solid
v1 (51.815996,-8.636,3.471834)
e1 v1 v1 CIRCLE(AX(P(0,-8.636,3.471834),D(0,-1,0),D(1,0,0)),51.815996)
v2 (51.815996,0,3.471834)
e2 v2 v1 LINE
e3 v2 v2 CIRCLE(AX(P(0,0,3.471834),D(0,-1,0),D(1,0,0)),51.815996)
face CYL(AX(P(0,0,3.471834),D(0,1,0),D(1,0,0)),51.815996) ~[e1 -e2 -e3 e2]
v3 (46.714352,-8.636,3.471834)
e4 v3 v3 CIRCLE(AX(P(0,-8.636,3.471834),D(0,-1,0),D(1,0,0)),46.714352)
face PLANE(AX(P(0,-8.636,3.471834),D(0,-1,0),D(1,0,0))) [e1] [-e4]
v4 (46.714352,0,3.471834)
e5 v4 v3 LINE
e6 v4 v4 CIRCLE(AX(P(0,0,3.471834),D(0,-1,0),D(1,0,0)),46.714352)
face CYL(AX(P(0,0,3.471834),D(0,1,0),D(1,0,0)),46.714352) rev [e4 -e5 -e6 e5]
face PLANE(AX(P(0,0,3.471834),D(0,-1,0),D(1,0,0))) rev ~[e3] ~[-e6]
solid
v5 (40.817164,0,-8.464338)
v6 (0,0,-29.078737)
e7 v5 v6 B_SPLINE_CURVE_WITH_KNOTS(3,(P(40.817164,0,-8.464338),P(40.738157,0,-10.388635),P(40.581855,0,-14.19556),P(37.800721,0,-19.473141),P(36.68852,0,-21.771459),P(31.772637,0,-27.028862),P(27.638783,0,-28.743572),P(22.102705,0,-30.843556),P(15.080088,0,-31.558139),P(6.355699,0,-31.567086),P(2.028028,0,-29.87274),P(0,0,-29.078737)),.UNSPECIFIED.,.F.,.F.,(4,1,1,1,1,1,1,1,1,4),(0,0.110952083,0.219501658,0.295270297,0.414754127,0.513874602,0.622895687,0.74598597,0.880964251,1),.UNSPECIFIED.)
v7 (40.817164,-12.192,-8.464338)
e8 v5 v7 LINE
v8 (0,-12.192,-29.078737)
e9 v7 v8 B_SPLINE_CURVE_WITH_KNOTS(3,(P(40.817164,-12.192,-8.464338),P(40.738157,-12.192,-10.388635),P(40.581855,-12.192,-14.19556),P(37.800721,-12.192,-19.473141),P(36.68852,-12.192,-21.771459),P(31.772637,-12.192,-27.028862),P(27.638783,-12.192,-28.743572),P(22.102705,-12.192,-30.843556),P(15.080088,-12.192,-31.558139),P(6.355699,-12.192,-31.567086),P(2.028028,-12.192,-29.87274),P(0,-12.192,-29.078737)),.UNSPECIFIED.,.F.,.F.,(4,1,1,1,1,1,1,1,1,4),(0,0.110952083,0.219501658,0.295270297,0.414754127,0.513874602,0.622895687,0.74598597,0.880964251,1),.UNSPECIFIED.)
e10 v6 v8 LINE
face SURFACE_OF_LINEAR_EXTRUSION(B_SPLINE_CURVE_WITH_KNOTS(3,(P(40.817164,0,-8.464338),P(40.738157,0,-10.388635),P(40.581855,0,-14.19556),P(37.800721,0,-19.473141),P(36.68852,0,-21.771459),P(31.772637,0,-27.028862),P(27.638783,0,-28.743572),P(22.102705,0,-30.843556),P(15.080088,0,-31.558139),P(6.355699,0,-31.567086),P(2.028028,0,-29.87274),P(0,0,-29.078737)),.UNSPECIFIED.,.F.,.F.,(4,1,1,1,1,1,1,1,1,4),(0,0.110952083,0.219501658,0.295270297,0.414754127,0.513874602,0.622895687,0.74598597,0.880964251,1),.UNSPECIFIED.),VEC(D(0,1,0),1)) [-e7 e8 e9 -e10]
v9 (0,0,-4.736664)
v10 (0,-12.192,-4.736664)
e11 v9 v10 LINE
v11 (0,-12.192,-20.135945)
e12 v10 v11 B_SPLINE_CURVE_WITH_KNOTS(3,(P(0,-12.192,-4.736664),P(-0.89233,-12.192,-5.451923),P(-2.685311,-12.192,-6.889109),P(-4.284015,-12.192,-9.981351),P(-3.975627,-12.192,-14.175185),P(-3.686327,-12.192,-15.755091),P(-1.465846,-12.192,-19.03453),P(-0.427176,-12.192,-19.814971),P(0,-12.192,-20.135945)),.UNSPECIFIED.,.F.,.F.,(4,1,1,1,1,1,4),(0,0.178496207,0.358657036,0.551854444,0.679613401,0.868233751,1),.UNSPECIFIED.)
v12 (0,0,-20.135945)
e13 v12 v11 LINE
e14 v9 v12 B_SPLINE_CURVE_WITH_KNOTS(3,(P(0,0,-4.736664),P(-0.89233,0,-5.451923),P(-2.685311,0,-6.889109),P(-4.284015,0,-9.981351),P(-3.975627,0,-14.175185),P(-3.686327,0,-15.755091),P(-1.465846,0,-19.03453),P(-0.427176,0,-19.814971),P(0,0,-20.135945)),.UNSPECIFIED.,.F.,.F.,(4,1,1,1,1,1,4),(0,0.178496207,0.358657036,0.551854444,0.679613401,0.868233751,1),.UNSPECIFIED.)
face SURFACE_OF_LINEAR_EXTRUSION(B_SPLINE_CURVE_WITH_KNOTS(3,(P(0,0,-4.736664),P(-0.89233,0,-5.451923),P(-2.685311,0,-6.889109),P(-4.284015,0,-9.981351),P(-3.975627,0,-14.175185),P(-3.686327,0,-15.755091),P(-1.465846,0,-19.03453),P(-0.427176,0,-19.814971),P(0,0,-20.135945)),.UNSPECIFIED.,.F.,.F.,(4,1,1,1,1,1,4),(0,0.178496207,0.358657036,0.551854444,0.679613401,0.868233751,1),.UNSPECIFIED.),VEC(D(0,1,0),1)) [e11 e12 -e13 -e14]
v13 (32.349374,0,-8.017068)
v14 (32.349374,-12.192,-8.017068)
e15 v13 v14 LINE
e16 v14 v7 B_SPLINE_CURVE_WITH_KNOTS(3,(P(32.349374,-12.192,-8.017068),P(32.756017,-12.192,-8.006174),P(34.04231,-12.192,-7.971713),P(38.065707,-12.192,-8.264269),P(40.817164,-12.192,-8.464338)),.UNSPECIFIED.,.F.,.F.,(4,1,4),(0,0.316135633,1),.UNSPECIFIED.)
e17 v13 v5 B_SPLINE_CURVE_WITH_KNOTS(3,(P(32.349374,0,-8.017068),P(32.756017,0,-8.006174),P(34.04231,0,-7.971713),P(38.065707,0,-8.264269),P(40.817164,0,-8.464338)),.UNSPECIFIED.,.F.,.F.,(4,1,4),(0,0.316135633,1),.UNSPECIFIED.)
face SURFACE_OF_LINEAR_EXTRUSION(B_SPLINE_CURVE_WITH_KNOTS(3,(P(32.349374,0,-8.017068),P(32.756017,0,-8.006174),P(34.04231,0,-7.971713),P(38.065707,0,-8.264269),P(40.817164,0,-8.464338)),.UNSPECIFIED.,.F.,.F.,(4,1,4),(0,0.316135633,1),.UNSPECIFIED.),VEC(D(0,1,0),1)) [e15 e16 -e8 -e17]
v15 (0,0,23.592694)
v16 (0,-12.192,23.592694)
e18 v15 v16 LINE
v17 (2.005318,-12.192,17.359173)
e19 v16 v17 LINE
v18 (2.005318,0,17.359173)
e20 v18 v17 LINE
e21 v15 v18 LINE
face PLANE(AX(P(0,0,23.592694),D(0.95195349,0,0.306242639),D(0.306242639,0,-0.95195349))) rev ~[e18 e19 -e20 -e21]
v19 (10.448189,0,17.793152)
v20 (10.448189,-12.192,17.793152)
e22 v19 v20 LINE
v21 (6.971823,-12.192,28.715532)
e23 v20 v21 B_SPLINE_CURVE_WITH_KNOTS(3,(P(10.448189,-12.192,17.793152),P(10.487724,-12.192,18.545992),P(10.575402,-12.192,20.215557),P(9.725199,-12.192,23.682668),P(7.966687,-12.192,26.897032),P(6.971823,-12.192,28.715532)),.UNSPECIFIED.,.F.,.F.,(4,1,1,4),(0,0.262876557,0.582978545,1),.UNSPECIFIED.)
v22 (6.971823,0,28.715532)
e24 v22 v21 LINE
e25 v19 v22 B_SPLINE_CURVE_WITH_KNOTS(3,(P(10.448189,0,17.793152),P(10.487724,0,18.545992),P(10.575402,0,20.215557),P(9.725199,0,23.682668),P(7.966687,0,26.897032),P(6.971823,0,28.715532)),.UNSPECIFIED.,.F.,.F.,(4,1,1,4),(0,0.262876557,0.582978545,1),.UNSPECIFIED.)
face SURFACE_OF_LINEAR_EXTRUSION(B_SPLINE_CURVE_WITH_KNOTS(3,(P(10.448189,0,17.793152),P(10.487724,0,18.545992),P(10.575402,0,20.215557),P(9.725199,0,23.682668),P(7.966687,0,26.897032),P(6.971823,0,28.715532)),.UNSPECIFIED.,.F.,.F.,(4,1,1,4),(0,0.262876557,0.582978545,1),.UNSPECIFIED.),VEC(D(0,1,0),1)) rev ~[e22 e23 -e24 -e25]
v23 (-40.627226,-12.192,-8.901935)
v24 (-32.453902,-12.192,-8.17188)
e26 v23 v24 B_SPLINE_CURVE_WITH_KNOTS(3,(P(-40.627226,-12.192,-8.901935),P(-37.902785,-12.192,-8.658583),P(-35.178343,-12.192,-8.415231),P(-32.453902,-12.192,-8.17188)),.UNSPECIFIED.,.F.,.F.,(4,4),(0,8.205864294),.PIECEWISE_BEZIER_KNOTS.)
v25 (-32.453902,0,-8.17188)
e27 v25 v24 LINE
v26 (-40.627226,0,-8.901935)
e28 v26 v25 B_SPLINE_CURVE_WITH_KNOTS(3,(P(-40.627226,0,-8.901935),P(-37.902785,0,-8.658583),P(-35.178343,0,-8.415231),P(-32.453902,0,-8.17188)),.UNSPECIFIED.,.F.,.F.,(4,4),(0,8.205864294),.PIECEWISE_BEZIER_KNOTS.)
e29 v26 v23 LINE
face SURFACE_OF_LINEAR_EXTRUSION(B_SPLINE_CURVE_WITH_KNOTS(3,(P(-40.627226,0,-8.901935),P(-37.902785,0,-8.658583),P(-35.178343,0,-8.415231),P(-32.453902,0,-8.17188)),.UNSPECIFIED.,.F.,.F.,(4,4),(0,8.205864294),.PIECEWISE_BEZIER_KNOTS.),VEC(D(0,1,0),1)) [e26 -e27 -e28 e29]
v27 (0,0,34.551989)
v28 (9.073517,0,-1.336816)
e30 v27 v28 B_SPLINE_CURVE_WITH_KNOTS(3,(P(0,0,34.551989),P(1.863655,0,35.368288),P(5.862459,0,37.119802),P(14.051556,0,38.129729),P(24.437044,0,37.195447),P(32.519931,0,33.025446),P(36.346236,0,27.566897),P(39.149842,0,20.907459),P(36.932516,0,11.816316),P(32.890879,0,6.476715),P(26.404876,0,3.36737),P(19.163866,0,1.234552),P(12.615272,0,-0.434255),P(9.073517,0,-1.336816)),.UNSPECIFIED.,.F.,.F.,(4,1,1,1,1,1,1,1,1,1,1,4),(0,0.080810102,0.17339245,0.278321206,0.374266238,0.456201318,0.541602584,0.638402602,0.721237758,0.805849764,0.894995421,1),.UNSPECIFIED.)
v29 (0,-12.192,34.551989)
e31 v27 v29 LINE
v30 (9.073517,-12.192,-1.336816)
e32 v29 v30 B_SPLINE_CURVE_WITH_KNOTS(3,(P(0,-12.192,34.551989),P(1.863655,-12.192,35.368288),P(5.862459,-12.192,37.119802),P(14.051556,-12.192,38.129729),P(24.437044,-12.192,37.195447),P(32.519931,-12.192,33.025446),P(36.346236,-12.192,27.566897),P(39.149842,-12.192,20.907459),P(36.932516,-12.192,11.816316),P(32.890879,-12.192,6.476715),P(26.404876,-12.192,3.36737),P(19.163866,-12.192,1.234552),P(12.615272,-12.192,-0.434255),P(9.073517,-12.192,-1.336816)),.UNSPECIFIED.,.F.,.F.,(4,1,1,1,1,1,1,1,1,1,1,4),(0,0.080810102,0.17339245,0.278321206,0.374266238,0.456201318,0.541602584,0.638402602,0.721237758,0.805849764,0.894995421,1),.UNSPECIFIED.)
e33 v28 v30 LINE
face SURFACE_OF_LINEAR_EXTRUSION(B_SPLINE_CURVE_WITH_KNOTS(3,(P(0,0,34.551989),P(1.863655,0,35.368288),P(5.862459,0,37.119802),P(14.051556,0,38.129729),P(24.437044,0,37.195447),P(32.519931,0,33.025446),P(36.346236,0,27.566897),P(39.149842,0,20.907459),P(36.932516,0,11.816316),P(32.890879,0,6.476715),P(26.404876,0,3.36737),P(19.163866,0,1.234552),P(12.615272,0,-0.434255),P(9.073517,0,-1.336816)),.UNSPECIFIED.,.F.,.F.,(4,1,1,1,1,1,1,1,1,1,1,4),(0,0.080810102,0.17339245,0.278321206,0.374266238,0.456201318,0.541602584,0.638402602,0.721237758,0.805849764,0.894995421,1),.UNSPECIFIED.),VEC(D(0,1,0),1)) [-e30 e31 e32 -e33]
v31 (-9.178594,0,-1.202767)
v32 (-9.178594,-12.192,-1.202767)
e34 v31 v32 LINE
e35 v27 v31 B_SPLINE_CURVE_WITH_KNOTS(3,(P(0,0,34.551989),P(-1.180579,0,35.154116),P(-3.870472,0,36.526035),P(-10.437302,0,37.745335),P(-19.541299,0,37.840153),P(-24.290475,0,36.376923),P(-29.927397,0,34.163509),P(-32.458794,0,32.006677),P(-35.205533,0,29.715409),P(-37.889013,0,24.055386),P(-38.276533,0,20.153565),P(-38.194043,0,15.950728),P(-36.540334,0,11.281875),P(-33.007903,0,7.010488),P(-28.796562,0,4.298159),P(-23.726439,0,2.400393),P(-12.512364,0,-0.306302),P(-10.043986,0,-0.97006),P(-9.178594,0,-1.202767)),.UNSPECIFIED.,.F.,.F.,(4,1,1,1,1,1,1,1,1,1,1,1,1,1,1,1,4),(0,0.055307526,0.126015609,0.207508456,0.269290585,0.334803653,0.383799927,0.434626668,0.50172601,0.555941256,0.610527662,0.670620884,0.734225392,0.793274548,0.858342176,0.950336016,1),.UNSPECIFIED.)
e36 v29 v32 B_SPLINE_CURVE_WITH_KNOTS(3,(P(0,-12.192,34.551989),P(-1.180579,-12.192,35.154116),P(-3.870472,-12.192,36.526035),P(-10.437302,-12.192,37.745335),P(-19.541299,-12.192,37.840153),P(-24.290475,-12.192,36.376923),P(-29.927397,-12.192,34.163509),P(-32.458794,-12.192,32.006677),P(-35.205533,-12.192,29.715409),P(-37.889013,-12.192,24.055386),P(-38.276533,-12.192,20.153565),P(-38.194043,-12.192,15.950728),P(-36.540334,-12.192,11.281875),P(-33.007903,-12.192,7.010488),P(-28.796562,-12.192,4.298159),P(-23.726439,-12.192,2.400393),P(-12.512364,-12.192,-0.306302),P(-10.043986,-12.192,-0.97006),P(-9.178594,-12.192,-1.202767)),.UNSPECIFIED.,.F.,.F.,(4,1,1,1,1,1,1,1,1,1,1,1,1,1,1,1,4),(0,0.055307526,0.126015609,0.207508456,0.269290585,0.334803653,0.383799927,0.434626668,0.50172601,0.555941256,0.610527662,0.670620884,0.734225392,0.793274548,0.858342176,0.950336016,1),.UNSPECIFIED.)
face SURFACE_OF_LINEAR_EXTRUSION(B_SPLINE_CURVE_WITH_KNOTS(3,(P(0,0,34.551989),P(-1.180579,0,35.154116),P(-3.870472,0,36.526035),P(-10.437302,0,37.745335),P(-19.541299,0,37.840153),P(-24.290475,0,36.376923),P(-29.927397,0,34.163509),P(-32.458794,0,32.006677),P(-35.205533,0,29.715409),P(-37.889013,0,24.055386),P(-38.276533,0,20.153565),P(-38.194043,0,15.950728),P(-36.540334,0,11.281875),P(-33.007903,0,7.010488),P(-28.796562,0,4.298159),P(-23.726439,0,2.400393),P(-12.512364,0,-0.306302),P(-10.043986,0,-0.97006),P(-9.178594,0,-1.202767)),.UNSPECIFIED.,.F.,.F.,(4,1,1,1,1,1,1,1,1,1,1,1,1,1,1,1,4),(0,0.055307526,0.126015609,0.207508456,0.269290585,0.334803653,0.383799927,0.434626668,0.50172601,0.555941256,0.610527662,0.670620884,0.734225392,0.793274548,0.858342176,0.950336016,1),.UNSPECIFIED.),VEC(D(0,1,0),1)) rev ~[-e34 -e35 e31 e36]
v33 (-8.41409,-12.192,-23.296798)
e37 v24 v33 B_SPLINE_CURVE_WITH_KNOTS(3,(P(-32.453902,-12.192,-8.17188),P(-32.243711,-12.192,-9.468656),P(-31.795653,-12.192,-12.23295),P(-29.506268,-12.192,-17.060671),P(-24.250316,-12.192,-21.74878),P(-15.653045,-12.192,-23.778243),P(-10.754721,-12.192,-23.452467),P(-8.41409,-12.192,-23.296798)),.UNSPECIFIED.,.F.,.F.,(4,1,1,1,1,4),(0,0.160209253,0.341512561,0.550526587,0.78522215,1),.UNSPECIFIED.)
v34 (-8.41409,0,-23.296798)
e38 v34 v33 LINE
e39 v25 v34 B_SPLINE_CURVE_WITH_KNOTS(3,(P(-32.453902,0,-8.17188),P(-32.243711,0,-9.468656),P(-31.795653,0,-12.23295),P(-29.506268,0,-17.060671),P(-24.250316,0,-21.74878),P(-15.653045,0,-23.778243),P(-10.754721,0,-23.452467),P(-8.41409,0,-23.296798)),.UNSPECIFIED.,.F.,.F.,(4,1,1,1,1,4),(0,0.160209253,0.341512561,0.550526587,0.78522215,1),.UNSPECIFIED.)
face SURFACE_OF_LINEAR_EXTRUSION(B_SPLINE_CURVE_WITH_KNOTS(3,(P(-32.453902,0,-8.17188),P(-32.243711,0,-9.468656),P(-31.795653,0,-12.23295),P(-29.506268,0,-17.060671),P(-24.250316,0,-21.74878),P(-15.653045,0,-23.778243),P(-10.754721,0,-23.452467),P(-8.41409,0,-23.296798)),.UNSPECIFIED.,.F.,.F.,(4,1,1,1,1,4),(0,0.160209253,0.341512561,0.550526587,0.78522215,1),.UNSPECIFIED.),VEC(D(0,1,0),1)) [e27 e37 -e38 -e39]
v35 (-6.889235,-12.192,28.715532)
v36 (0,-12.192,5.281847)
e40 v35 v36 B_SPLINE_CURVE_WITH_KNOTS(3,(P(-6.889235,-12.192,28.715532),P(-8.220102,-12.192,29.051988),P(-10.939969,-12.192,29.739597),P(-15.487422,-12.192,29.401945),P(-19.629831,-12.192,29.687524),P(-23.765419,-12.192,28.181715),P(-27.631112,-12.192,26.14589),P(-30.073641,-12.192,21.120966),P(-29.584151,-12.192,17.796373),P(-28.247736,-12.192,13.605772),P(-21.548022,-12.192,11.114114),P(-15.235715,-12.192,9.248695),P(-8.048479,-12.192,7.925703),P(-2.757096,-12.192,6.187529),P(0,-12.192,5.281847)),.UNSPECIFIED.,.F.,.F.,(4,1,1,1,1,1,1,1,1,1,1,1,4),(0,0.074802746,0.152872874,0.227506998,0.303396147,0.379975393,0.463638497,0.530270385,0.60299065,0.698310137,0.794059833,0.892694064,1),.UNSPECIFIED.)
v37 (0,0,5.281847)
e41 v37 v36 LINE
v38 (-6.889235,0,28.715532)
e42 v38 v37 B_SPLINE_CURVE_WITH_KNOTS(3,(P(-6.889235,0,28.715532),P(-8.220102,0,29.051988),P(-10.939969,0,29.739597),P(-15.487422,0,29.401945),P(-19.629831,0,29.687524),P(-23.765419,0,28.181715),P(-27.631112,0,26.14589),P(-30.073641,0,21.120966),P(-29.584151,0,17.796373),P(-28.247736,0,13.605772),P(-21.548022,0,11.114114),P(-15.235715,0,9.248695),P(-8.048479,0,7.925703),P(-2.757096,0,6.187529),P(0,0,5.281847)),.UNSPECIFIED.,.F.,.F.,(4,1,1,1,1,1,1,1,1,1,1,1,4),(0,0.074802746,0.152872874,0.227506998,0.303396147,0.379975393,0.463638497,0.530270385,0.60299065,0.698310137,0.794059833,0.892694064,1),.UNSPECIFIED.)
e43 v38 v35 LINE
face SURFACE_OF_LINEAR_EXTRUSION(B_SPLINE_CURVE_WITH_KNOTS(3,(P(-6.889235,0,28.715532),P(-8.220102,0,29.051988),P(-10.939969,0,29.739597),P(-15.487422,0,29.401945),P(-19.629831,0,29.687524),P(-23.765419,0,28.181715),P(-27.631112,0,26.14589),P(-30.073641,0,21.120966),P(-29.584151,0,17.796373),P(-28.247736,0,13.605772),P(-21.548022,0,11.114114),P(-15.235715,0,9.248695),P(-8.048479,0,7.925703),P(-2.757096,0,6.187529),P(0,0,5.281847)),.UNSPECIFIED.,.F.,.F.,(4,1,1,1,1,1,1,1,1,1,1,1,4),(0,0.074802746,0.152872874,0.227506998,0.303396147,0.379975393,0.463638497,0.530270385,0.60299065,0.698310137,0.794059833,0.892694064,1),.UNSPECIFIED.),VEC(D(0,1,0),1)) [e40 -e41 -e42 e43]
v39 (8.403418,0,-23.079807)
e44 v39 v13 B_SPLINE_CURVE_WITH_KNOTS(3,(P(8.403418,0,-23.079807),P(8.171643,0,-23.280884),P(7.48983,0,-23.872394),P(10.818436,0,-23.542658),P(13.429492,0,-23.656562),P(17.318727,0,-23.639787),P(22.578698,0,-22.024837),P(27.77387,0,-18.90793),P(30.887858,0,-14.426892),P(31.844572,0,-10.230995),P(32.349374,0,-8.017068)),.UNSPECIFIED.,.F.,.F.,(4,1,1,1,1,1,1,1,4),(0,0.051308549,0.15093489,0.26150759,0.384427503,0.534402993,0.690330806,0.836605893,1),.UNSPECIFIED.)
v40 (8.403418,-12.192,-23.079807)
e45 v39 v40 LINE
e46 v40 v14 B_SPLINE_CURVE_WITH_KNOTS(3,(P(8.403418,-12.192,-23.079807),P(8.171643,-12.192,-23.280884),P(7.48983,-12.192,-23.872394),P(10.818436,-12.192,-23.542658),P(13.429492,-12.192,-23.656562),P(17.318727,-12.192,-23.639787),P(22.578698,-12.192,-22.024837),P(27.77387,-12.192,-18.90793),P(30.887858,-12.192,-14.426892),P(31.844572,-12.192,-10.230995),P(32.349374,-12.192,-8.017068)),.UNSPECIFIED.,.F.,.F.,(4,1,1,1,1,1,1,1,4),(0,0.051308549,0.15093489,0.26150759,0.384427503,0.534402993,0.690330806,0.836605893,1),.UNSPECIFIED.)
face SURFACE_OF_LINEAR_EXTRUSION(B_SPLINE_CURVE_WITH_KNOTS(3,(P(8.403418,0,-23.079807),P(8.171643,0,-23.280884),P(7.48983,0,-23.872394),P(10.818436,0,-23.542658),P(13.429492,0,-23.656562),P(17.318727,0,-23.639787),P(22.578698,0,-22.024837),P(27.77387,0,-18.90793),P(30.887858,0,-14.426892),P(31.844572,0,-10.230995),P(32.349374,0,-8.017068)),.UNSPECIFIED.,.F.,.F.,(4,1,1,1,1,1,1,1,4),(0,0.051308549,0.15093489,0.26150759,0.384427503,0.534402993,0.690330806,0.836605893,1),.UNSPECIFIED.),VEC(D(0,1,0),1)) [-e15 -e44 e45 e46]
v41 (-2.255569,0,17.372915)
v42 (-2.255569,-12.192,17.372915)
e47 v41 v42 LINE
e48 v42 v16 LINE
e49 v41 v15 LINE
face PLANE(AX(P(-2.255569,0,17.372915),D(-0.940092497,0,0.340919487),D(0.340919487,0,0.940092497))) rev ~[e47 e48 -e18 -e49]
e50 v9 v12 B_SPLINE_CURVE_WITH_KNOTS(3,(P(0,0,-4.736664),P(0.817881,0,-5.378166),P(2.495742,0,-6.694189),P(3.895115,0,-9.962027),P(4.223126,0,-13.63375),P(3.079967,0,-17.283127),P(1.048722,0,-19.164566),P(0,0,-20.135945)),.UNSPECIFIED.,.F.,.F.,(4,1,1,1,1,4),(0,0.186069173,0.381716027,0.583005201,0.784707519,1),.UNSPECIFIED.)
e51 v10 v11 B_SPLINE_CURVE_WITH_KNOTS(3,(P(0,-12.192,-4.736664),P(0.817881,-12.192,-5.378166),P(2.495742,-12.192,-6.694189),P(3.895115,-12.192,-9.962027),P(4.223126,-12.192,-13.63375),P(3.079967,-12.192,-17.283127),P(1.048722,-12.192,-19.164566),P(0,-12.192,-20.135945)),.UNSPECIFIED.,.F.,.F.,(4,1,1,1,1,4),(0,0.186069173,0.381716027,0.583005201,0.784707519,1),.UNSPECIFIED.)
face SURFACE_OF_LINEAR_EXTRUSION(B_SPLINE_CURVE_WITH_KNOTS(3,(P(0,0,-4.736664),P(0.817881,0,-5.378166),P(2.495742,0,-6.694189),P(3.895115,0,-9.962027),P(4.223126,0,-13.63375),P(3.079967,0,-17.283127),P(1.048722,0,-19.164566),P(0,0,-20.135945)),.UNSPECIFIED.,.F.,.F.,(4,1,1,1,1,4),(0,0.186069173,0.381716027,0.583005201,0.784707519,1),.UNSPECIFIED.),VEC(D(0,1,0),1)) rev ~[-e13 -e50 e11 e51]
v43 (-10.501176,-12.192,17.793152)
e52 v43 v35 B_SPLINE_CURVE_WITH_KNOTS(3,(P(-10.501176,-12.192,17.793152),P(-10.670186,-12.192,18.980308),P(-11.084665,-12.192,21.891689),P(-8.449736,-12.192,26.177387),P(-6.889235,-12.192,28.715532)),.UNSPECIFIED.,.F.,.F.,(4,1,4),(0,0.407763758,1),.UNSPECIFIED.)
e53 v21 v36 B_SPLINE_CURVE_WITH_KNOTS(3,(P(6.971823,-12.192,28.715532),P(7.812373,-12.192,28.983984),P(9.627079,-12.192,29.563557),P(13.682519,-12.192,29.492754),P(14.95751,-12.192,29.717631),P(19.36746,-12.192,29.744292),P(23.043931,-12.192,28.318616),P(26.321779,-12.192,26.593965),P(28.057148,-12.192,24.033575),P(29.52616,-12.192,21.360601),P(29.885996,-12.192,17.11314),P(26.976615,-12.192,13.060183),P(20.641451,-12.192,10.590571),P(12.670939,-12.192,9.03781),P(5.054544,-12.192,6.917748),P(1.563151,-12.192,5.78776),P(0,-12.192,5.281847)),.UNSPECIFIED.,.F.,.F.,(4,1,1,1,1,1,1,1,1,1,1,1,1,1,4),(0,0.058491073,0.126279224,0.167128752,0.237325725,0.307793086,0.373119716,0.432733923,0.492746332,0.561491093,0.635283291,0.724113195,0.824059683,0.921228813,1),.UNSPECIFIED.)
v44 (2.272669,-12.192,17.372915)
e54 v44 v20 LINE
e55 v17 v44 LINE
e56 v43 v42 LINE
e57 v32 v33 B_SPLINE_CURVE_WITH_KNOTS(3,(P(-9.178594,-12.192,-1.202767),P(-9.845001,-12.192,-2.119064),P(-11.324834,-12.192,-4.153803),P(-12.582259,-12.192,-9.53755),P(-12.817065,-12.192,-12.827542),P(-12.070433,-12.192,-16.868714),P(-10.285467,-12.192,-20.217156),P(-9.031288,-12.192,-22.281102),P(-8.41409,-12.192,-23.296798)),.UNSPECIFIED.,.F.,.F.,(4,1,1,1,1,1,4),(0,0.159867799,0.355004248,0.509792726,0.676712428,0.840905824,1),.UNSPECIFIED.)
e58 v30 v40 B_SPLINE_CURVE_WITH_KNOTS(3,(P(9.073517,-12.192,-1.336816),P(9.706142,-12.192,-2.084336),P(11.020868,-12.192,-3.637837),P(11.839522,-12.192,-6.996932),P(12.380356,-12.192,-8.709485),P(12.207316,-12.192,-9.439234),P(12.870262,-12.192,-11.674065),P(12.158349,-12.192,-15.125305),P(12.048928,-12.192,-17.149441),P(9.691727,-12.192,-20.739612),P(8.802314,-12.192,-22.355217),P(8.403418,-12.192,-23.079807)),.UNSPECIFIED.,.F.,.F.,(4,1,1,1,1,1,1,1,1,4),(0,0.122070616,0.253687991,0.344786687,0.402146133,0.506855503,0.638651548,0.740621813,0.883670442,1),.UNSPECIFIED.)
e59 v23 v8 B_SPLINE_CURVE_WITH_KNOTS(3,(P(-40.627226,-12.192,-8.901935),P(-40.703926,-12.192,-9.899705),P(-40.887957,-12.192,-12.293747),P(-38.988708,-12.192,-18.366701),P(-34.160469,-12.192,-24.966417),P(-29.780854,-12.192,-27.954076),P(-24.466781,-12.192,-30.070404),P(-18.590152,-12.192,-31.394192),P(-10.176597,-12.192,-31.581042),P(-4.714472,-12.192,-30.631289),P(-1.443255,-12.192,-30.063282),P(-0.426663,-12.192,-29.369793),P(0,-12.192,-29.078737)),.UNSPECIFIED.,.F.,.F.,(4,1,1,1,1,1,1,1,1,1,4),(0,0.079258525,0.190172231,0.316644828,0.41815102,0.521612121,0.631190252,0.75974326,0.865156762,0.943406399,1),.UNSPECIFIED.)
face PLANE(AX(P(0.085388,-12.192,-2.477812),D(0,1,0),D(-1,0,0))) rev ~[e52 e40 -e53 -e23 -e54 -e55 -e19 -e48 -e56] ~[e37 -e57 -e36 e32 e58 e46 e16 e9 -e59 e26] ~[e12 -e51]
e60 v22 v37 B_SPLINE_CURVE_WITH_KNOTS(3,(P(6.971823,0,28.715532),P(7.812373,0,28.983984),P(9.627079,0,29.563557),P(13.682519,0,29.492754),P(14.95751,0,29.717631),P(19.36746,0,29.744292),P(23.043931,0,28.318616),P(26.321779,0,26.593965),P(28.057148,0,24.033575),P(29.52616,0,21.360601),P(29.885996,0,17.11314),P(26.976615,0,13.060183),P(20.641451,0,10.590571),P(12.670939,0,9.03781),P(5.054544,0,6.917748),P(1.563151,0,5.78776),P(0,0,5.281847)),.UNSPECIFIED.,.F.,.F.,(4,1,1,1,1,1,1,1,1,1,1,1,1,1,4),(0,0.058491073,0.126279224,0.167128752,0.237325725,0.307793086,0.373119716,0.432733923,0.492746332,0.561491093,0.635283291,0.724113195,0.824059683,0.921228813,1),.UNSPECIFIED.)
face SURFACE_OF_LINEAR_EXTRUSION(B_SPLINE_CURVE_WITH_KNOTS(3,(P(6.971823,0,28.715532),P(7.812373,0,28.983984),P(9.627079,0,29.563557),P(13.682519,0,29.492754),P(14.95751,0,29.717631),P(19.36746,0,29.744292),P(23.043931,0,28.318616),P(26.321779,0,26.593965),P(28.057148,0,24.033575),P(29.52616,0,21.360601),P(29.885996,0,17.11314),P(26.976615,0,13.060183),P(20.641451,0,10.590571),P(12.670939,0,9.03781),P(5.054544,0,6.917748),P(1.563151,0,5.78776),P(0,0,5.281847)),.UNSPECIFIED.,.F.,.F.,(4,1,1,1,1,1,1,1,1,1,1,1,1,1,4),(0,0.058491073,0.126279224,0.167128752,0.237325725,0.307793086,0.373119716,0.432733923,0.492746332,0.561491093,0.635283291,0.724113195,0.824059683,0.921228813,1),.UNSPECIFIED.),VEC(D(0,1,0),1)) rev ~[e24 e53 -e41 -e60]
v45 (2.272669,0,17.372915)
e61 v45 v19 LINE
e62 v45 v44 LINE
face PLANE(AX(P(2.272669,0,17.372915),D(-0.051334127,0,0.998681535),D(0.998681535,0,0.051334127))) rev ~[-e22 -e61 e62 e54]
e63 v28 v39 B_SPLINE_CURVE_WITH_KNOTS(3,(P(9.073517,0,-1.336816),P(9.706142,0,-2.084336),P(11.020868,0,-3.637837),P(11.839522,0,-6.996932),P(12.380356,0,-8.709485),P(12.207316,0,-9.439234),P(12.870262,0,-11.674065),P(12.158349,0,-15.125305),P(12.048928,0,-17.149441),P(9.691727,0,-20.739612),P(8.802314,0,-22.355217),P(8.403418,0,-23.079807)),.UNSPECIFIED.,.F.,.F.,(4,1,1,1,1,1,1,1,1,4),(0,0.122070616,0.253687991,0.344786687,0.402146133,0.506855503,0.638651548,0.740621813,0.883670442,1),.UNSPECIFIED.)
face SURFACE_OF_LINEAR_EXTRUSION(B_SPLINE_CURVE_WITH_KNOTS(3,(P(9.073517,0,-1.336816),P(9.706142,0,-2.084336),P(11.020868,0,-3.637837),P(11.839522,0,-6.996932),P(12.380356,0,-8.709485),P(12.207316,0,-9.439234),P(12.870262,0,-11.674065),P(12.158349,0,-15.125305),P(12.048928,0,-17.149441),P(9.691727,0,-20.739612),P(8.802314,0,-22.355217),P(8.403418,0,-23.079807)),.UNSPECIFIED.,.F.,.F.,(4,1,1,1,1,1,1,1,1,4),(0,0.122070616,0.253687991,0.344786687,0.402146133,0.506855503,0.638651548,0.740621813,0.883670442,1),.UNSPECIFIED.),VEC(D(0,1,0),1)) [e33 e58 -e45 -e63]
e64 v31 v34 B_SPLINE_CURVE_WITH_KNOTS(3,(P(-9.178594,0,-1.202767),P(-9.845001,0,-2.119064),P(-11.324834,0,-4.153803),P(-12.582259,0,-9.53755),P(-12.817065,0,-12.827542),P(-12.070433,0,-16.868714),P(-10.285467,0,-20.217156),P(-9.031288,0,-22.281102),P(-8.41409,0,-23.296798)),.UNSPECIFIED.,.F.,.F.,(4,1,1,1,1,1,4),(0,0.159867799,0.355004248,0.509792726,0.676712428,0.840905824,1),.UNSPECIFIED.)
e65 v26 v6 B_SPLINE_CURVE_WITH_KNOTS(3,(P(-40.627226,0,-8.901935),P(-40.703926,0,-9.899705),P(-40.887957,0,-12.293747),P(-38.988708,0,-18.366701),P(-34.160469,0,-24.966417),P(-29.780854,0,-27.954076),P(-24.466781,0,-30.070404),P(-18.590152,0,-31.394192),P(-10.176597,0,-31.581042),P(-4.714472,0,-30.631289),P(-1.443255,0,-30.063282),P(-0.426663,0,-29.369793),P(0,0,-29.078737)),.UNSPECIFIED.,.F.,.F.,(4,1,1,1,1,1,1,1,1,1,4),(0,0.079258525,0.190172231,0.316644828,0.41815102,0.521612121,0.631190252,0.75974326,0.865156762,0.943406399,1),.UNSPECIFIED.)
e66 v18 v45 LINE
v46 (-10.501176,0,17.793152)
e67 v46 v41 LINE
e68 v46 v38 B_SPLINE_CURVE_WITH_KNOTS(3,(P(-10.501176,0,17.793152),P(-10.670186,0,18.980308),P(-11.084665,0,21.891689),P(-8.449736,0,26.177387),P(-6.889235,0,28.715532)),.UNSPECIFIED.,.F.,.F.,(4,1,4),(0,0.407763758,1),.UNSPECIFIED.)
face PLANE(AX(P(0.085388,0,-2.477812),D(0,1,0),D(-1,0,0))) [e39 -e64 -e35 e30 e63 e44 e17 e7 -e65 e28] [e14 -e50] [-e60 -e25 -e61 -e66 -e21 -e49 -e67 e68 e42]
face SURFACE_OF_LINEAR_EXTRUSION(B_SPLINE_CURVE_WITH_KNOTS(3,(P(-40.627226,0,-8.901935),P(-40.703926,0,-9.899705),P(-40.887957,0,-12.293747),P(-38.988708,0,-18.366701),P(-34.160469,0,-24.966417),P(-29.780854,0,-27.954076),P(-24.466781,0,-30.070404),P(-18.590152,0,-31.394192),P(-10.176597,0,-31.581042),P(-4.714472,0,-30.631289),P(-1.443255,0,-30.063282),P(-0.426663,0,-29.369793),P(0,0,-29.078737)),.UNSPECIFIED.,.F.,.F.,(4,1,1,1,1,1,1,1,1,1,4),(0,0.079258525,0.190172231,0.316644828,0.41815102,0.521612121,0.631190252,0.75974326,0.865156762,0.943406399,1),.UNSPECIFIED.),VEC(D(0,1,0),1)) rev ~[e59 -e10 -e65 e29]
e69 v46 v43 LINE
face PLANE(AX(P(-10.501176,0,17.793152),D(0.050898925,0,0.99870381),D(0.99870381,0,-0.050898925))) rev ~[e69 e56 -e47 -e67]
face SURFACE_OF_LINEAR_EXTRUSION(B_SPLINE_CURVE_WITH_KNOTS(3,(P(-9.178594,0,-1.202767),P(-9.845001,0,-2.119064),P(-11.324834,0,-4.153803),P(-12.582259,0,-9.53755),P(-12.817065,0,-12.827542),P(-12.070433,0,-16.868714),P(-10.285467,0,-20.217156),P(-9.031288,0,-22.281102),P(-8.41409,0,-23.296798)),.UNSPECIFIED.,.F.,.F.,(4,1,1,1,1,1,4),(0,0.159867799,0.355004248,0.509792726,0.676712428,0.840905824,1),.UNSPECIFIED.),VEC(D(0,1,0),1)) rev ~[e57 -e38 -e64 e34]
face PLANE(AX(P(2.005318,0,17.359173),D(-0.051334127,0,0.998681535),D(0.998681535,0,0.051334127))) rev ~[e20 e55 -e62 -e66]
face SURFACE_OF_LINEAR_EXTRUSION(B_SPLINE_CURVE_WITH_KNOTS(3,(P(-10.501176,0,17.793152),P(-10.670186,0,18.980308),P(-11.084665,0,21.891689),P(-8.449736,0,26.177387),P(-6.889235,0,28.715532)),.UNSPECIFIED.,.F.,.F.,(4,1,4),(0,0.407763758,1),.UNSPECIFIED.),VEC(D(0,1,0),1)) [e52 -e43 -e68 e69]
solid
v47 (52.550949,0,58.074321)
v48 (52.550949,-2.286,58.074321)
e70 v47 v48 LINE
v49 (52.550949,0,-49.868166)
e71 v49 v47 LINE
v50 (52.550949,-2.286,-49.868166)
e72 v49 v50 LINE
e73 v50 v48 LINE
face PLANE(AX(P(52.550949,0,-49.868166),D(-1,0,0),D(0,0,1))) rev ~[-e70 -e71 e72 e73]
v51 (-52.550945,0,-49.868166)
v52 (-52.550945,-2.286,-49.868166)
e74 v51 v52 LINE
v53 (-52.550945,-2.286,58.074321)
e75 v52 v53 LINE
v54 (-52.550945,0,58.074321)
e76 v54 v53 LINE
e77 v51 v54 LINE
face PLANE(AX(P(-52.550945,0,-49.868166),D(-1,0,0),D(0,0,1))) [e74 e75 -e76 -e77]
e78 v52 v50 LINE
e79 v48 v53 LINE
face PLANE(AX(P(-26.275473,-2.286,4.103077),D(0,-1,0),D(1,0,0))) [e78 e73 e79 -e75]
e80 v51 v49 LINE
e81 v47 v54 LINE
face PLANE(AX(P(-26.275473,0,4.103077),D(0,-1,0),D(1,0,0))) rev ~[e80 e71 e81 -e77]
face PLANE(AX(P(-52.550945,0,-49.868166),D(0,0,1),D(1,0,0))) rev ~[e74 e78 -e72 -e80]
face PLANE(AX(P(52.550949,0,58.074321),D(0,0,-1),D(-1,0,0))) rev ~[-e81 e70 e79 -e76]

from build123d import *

# Parameters (mm, degrees)
F2_DEPTH = 12.192
F0_R     = 51.8159960218
F0_R_2   = 46.7143522427
F3_DEPTH = 8.636
F4_W     = 52.550945431
F4_H     = 107.9424871132
F4_W_2   = 52.5509491563
F5_DEPTH = 2.286


with BuildPart() as f2:
    # F1 (on Front) → F2 (new body)
    with BuildSketch(Plane.XZ):
        with BuildLine():
            add(Edge.make_bspline(
                [(0, 34.5519892871), (1.8636551367, 35.3682879789), (5.8624587577, 37.1198020334), (14.0515556016, 38.1297289695), (24.4370441691, 37.1954468039), (32.5199308373, 33.0254458176), (36.3462355524, 27.5668970525), (39.1498419, 20.9074591969), (36.9325163196, 11.8163155109), (32.8908786108, 6.4767150827), (26.4048755311, 3.3673698207), (19.1638661043, 1.2345521392), (12.6152715008, -0.4342548338), (9.0735172853, -1.3368155342)],
                knots=[0, 0, 0, 0, 0.0808101023, 0.1733924498, 0.2783212058, 0.3742662381, 0.4562013177, 0.5416025842, 0.6384026023, 0.7212377579, 0.805849764, 0.8949954214, 1, 1, 1, 1], degree=3))
            add(Edge.make_bspline(
                [(0, 34.5519892871), (-1.1805786957, 35.154116431), (-3.870472007, 36.526034951), (-10.4373018154, 37.7453348505), (-19.5412992264, 37.8401527719), (-24.2904752801, 36.376923106), (-29.9273966235, 34.1635085314), (-32.458794007, 32.0066774867), (-35.2055331247, 29.7154093668), (-37.8890127864, 24.0553858061), (-38.2765328975, 20.1535652977), (-38.1940426413, 15.9507278176), (-36.5403337735, 11.2818749594), (-33.0079028254, 7.0104879258), (-28.7965620817, 4.2981589294), (-23.7264390156, 2.4003928514), (-12.5123644542, -0.3063020827), (-10.0439856054, -0.9700598603), (-9.1785937548, -1.202767482)],
                knots=[0, 0, 0, 0, 0.0553075256, 0.1260156088, 0.2075084565, 0.2692905852, 0.334803653, 0.3837999273, 0.4346266679, 0.5017260102, 0.5559412564, 0.6105276622, 0.6706208836, 0.7342253921, 0.7932745479, 0.8583421756, 0.9503360163, 1, 1, 1, 1], degree=3))
            add(Edge.make_bspline(
                [(-9.1785937548, -1.202767482), (-9.845001483, -2.1190641409), (-11.324834039, -4.153802889), (-12.5822585435, -9.5375499396), (-12.8170646598, -12.8275421798), (-12.0704327469, -16.8687144004), (-10.2854667918, -20.21715554), (-9.0312879882, -22.2811018337), (-8.4140896797, -23.2967976481)],
                knots=[0, 0, 0, 0, 0.1598677995, 0.3550042478, 0.5097927259, 0.6767124276, 0.8409058244, 1, 1, 1, 1], degree=3))
            add(Edge.make_bspline(
                [(-32.4539020658, -8.1718796864), (-32.2437107397, -9.468656053), (-31.7956531111, -12.2329496834), (-29.5062684828, -17.0606713529), (-24.250316111, -21.7487802231), (-15.6530451707, -23.778242598), (-10.7547209753, -23.452467222), (-8.4140896797, -23.2967976481)],
                knots=[0, 0, 0, 0, 0.1602092529, 0.3415125605, 0.550526587, 0.7852221505, 1, 1, 1, 1], degree=3))
            add(Edge.make_bspline(
                [(-40.6272262335, -8.9019350708), (-37.9027848442, -8.658583276), (-35.178343455, -8.4152314812), (-32.4539020658, -8.1718796864)],
                knots=[0, 0, 0, 0, 8.2058642942, 8.2058642942, 8.2058642942, 8.2058642942], degree=3))
            add(Edge.make_bspline(
                [(-40.6272262335, -8.9019350708), (-40.7039255948, -9.8997054018), (-40.8879573905, -12.2937470539), (-38.9887081595, -18.3667007665), (-34.1604688217, -24.9664170941), (-29.7808537842, -27.9540761907), (-24.4667808828, -30.0704043775), (-18.5901521679, -31.3941922774), (-10.1765970791, -31.5810424479), (-4.7144720713, -30.6312893302), (-1.4432548208, -30.0632820351), (-0.42666285, -29.3697934955), (0, -29.0787369013)],
                knots=[0, 0, 0, 0, 0.079258525, 0.1901722312, 0.3166448276, 0.4181510198, 0.5216121212, 0.6311902517, 0.7597432605, 0.8651567625, 0.9434063994, 1, 1, 1, 1], degree=3))
            add(Edge.make_bspline(
                [(40.8171638846, -8.4643382579), (40.7381572513, -10.3886347037), (40.5818547594, -14.1955597309), (37.8007214389, -19.4731405672), (36.6885201937, -21.7714592565), (31.7726372213, -27.0288617791), (27.6387825515, -28.7435724779), (22.102705484, -30.8435558294), (15.0800879875, -31.5581391259), (6.3556985515, -31.5670864848), (2.0280278434, -29.8727396688), (0, -29.0787369013)],
                knots=[0, 0, 0, 0, 0.1109520826, 0.219501658, 0.295270297, 0.4147541267, 0.5138746024, 0.6228956869, 0.7459859702, 0.8809642508, 1, 1, 1, 1], degree=3))
            add(Edge.make_bspline(
                [(32.3493741453, -8.0170677975), (32.7560172129, -8.0061735838), (34.0423102648, -7.9717130151), (38.0657065377, -8.2642693827), (40.8171638846, -8.4643382579)],
                knots=[0, 0, 0, 0, 0.3161356326, 1, 1, 1, 1], degree=3))
            add(Edge.make_bspline(
                [(8.4034176543, -23.0798069388), (8.1716431348, -23.2808839836), (7.489829636, -23.8723944038), (10.8184358189, -23.5426576033), (13.4294921878, -23.6565616212), (17.31872678, -23.639786504), (22.578698228, -22.0248367485), (27.7738699264, -18.9079301104), (30.8878578174, -14.426891942), (31.8445724527, -10.2309945362), (32.3493741453, -8.0170677975)],
                knots=[0, 0, 0, 0, 0.0513085494, 0.15093489, 0.2615075902, 0.3844275026, 0.5344029929, 0.6903308064, 0.8366058934, 1, 1, 1, 1], degree=3))
            add(Edge.make_bspline(
                [(9.0735172853, -1.3368155342), (9.7061423309, -2.0843355969), (11.0208680345, -3.6378369122), (11.8395221763, -6.9969320444), (12.3803559262, -8.7094847063), (12.2073156715, -9.4392341122), (12.870261523, -11.6740653845), (12.1583492165, -15.1253047377), (12.048928336, -17.1494410568), (9.6917273766, -20.7396116302), (8.8023141426, -22.3552174443), (8.4034176543, -23.0798069388)],
                knots=[0, 0, 0, 0, 0.1220706164, 0.2536879911, 0.344786687, 0.4021461329, 0.5068555032, 0.6386515479, 0.7406218126, 0.8836704424, 1, 1, 1, 1], degree=3))
        make_face()
        with BuildLine():
            add(Edge.make_bspline(
                [(0, -4.7366642393), (-0.8923299318, -5.4519225199), (-2.6853114951, -6.8891094444), (-4.2840151362, -9.9813507511), (-3.9756274703, -14.1751850766), (-3.6863272327, -15.7550905834), (-1.4658460314, -19.0345296128), (-0.4271764166, -19.8149706478), (0, -20.1359447092)],
                knots=[0, 0, 0, 0, 0.1784962071, 0.358657036, 0.5518544442, 0.6796134014, 0.868233751, 1, 1, 1, 1], degree=3))
            add(Edge.make_bspline(
                [(0, -4.7366642393), (0.8178810071, -5.3781655006), (2.4957424384, -6.6941885103), (3.895115331, -9.9620274658), (4.2231264624, -13.6337500787), (3.0799665013, -17.2831269958), (1.0487220782, -19.1645663127), (0, -20.1359447092)],
                knots=[0, 0, 0, 0, 0.1860691729, 0.3817160272, 0.583005201, 0.7847075186, 1, 1, 1, 1], degree=3))
        make_face(mode=Mode.SUBTRACT)
        with BuildLine():
            Line((-2.2555692121, 17.3729152447), (0, 23.5926937312))
            Line((0, 23.5926937312), (2.0053184126, 17.3591729254))
            Line((2.0053184126, 17.3591729254), (2.2726688347, 17.3729152447))
            Line((2.2726688347, 17.3729152447), (10.448188521, 17.7931524813))
            add(Edge.make_bspline(
                [(10.448188521, 17.7931524813), (10.4877243033, 18.5459923798), (10.5754023875, 20.2155574197), (9.7251992605, 23.6826678169), (7.9666868287, 26.8970323069), (6.9718230516, 28.7155322731)],
                knots=[0, 0, 0, 0, 0.2628765565, 0.5829785448, 1, 1, 1, 1], degree=3))
            add(Edge.make_bspline(
                [(6.9718230516, 28.7155322731), (7.8123734401, 28.9839837268), (9.627078595, 29.5635566395), (13.6825187364, 29.4927544947), (14.9575104412, 29.7176313033), (19.3674595149, 29.7442916027), (23.0439312051, 28.3186159994), (26.3217788275, 26.5939647856), (28.0571479735, 24.0335753571), (29.5261603856, 21.3606014643), (29.8859960024, 17.113140494), (26.9766146333, 13.0601828898), (20.6414514245, 10.5905711333), (12.6709386277, 9.0378098477), (5.0545437914, 6.9177483188), (1.5631505037, 5.7877597681), (0, 5.2818465047)],
                knots=[0, 0, 0, 0, 0.0584910726, 0.1262792243, 0.1671287521, 0.2373257254, 0.3077930861, 0.373119716, 0.432733923, 0.4927463323, 0.5614910927, 0.6352832911, 0.7241131949, 0.8240596834, 0.9212288127, 1, 1, 1, 1], degree=3))
            add(Edge.make_bspline(
                [(-6.8892352283, 28.7155322731), (-8.2201023484, 29.0519884309), (-10.939968843, 29.7395971462), (-15.4874221077, 29.4019447428), (-19.629830645, 29.6875242869), (-23.7654185994, 28.1817151748), (-27.6311121872, 26.1458904623), (-30.0736408894, 21.1209659438), (-29.5841508675, 17.796372585), (-28.2477362759, 13.6057723203), (-21.5480221345, 11.1141143145), (-15.2357151238, 9.2486950088), (-8.0484787217, 7.9257025042), (-2.757095886, 6.1875287772), (0, 5.2818465047)],
                knots=[0, 0, 0, 0, 0.0748027458, 0.1528728744, 0.2275069981, 0.3033961467, 0.3799753925, 0.4636384969, 0.5302703853, 0.6029906495, 0.6983101371, 0.7940598334, 0.8926940643, 1, 1, 1, 1], degree=3))
            add(Edge.make_bspline(
                [(-10.5011761189, 17.7931524813), (-10.6701858263, 18.980308082), (-11.084665299, 21.891688942), (-8.4497359083, 26.1773867244), (-6.8892352283, 28.7155322731)],
                knots=[0, 0, 0, 0, 0.4077637581, 1, 1, 1, 1], degree=3))
            Line((-10.5011761189, 17.7931524813), (-2.2555692121, 17.3729152447))
        make_face(mode=Mode.SUBTRACT)
    extrude(amount=F2_DEPTH)


with BuildPart() as f3:
    # F0 (on Front) → F3 (new body)
    with BuildSketch(Plane.XZ):
        with Locations((0, 3.4718343522)):
            Circle(F0_R)
        with Locations((0, 3.4718343522)):
            Circle(F0_R_2, mode=Mode.SUBTRACT)
    extrude(amount=F3_DEPTH)


with BuildPart() as f5:
    # F4 (on Front) → F5 (new body)
    with BuildSketch(Plane.XZ):
        with Locations((-26.2754727155, 4.1030771099)):
            Rectangle(F4_W, F4_H)
        with Locations((26.2754745781, 4.1030771099)):
            Rectangle(F4_W_2, F4_H)
    extrude(amount=F5_DEPTH)


solid = Compound([f2.part, f3.part, f5.part])
